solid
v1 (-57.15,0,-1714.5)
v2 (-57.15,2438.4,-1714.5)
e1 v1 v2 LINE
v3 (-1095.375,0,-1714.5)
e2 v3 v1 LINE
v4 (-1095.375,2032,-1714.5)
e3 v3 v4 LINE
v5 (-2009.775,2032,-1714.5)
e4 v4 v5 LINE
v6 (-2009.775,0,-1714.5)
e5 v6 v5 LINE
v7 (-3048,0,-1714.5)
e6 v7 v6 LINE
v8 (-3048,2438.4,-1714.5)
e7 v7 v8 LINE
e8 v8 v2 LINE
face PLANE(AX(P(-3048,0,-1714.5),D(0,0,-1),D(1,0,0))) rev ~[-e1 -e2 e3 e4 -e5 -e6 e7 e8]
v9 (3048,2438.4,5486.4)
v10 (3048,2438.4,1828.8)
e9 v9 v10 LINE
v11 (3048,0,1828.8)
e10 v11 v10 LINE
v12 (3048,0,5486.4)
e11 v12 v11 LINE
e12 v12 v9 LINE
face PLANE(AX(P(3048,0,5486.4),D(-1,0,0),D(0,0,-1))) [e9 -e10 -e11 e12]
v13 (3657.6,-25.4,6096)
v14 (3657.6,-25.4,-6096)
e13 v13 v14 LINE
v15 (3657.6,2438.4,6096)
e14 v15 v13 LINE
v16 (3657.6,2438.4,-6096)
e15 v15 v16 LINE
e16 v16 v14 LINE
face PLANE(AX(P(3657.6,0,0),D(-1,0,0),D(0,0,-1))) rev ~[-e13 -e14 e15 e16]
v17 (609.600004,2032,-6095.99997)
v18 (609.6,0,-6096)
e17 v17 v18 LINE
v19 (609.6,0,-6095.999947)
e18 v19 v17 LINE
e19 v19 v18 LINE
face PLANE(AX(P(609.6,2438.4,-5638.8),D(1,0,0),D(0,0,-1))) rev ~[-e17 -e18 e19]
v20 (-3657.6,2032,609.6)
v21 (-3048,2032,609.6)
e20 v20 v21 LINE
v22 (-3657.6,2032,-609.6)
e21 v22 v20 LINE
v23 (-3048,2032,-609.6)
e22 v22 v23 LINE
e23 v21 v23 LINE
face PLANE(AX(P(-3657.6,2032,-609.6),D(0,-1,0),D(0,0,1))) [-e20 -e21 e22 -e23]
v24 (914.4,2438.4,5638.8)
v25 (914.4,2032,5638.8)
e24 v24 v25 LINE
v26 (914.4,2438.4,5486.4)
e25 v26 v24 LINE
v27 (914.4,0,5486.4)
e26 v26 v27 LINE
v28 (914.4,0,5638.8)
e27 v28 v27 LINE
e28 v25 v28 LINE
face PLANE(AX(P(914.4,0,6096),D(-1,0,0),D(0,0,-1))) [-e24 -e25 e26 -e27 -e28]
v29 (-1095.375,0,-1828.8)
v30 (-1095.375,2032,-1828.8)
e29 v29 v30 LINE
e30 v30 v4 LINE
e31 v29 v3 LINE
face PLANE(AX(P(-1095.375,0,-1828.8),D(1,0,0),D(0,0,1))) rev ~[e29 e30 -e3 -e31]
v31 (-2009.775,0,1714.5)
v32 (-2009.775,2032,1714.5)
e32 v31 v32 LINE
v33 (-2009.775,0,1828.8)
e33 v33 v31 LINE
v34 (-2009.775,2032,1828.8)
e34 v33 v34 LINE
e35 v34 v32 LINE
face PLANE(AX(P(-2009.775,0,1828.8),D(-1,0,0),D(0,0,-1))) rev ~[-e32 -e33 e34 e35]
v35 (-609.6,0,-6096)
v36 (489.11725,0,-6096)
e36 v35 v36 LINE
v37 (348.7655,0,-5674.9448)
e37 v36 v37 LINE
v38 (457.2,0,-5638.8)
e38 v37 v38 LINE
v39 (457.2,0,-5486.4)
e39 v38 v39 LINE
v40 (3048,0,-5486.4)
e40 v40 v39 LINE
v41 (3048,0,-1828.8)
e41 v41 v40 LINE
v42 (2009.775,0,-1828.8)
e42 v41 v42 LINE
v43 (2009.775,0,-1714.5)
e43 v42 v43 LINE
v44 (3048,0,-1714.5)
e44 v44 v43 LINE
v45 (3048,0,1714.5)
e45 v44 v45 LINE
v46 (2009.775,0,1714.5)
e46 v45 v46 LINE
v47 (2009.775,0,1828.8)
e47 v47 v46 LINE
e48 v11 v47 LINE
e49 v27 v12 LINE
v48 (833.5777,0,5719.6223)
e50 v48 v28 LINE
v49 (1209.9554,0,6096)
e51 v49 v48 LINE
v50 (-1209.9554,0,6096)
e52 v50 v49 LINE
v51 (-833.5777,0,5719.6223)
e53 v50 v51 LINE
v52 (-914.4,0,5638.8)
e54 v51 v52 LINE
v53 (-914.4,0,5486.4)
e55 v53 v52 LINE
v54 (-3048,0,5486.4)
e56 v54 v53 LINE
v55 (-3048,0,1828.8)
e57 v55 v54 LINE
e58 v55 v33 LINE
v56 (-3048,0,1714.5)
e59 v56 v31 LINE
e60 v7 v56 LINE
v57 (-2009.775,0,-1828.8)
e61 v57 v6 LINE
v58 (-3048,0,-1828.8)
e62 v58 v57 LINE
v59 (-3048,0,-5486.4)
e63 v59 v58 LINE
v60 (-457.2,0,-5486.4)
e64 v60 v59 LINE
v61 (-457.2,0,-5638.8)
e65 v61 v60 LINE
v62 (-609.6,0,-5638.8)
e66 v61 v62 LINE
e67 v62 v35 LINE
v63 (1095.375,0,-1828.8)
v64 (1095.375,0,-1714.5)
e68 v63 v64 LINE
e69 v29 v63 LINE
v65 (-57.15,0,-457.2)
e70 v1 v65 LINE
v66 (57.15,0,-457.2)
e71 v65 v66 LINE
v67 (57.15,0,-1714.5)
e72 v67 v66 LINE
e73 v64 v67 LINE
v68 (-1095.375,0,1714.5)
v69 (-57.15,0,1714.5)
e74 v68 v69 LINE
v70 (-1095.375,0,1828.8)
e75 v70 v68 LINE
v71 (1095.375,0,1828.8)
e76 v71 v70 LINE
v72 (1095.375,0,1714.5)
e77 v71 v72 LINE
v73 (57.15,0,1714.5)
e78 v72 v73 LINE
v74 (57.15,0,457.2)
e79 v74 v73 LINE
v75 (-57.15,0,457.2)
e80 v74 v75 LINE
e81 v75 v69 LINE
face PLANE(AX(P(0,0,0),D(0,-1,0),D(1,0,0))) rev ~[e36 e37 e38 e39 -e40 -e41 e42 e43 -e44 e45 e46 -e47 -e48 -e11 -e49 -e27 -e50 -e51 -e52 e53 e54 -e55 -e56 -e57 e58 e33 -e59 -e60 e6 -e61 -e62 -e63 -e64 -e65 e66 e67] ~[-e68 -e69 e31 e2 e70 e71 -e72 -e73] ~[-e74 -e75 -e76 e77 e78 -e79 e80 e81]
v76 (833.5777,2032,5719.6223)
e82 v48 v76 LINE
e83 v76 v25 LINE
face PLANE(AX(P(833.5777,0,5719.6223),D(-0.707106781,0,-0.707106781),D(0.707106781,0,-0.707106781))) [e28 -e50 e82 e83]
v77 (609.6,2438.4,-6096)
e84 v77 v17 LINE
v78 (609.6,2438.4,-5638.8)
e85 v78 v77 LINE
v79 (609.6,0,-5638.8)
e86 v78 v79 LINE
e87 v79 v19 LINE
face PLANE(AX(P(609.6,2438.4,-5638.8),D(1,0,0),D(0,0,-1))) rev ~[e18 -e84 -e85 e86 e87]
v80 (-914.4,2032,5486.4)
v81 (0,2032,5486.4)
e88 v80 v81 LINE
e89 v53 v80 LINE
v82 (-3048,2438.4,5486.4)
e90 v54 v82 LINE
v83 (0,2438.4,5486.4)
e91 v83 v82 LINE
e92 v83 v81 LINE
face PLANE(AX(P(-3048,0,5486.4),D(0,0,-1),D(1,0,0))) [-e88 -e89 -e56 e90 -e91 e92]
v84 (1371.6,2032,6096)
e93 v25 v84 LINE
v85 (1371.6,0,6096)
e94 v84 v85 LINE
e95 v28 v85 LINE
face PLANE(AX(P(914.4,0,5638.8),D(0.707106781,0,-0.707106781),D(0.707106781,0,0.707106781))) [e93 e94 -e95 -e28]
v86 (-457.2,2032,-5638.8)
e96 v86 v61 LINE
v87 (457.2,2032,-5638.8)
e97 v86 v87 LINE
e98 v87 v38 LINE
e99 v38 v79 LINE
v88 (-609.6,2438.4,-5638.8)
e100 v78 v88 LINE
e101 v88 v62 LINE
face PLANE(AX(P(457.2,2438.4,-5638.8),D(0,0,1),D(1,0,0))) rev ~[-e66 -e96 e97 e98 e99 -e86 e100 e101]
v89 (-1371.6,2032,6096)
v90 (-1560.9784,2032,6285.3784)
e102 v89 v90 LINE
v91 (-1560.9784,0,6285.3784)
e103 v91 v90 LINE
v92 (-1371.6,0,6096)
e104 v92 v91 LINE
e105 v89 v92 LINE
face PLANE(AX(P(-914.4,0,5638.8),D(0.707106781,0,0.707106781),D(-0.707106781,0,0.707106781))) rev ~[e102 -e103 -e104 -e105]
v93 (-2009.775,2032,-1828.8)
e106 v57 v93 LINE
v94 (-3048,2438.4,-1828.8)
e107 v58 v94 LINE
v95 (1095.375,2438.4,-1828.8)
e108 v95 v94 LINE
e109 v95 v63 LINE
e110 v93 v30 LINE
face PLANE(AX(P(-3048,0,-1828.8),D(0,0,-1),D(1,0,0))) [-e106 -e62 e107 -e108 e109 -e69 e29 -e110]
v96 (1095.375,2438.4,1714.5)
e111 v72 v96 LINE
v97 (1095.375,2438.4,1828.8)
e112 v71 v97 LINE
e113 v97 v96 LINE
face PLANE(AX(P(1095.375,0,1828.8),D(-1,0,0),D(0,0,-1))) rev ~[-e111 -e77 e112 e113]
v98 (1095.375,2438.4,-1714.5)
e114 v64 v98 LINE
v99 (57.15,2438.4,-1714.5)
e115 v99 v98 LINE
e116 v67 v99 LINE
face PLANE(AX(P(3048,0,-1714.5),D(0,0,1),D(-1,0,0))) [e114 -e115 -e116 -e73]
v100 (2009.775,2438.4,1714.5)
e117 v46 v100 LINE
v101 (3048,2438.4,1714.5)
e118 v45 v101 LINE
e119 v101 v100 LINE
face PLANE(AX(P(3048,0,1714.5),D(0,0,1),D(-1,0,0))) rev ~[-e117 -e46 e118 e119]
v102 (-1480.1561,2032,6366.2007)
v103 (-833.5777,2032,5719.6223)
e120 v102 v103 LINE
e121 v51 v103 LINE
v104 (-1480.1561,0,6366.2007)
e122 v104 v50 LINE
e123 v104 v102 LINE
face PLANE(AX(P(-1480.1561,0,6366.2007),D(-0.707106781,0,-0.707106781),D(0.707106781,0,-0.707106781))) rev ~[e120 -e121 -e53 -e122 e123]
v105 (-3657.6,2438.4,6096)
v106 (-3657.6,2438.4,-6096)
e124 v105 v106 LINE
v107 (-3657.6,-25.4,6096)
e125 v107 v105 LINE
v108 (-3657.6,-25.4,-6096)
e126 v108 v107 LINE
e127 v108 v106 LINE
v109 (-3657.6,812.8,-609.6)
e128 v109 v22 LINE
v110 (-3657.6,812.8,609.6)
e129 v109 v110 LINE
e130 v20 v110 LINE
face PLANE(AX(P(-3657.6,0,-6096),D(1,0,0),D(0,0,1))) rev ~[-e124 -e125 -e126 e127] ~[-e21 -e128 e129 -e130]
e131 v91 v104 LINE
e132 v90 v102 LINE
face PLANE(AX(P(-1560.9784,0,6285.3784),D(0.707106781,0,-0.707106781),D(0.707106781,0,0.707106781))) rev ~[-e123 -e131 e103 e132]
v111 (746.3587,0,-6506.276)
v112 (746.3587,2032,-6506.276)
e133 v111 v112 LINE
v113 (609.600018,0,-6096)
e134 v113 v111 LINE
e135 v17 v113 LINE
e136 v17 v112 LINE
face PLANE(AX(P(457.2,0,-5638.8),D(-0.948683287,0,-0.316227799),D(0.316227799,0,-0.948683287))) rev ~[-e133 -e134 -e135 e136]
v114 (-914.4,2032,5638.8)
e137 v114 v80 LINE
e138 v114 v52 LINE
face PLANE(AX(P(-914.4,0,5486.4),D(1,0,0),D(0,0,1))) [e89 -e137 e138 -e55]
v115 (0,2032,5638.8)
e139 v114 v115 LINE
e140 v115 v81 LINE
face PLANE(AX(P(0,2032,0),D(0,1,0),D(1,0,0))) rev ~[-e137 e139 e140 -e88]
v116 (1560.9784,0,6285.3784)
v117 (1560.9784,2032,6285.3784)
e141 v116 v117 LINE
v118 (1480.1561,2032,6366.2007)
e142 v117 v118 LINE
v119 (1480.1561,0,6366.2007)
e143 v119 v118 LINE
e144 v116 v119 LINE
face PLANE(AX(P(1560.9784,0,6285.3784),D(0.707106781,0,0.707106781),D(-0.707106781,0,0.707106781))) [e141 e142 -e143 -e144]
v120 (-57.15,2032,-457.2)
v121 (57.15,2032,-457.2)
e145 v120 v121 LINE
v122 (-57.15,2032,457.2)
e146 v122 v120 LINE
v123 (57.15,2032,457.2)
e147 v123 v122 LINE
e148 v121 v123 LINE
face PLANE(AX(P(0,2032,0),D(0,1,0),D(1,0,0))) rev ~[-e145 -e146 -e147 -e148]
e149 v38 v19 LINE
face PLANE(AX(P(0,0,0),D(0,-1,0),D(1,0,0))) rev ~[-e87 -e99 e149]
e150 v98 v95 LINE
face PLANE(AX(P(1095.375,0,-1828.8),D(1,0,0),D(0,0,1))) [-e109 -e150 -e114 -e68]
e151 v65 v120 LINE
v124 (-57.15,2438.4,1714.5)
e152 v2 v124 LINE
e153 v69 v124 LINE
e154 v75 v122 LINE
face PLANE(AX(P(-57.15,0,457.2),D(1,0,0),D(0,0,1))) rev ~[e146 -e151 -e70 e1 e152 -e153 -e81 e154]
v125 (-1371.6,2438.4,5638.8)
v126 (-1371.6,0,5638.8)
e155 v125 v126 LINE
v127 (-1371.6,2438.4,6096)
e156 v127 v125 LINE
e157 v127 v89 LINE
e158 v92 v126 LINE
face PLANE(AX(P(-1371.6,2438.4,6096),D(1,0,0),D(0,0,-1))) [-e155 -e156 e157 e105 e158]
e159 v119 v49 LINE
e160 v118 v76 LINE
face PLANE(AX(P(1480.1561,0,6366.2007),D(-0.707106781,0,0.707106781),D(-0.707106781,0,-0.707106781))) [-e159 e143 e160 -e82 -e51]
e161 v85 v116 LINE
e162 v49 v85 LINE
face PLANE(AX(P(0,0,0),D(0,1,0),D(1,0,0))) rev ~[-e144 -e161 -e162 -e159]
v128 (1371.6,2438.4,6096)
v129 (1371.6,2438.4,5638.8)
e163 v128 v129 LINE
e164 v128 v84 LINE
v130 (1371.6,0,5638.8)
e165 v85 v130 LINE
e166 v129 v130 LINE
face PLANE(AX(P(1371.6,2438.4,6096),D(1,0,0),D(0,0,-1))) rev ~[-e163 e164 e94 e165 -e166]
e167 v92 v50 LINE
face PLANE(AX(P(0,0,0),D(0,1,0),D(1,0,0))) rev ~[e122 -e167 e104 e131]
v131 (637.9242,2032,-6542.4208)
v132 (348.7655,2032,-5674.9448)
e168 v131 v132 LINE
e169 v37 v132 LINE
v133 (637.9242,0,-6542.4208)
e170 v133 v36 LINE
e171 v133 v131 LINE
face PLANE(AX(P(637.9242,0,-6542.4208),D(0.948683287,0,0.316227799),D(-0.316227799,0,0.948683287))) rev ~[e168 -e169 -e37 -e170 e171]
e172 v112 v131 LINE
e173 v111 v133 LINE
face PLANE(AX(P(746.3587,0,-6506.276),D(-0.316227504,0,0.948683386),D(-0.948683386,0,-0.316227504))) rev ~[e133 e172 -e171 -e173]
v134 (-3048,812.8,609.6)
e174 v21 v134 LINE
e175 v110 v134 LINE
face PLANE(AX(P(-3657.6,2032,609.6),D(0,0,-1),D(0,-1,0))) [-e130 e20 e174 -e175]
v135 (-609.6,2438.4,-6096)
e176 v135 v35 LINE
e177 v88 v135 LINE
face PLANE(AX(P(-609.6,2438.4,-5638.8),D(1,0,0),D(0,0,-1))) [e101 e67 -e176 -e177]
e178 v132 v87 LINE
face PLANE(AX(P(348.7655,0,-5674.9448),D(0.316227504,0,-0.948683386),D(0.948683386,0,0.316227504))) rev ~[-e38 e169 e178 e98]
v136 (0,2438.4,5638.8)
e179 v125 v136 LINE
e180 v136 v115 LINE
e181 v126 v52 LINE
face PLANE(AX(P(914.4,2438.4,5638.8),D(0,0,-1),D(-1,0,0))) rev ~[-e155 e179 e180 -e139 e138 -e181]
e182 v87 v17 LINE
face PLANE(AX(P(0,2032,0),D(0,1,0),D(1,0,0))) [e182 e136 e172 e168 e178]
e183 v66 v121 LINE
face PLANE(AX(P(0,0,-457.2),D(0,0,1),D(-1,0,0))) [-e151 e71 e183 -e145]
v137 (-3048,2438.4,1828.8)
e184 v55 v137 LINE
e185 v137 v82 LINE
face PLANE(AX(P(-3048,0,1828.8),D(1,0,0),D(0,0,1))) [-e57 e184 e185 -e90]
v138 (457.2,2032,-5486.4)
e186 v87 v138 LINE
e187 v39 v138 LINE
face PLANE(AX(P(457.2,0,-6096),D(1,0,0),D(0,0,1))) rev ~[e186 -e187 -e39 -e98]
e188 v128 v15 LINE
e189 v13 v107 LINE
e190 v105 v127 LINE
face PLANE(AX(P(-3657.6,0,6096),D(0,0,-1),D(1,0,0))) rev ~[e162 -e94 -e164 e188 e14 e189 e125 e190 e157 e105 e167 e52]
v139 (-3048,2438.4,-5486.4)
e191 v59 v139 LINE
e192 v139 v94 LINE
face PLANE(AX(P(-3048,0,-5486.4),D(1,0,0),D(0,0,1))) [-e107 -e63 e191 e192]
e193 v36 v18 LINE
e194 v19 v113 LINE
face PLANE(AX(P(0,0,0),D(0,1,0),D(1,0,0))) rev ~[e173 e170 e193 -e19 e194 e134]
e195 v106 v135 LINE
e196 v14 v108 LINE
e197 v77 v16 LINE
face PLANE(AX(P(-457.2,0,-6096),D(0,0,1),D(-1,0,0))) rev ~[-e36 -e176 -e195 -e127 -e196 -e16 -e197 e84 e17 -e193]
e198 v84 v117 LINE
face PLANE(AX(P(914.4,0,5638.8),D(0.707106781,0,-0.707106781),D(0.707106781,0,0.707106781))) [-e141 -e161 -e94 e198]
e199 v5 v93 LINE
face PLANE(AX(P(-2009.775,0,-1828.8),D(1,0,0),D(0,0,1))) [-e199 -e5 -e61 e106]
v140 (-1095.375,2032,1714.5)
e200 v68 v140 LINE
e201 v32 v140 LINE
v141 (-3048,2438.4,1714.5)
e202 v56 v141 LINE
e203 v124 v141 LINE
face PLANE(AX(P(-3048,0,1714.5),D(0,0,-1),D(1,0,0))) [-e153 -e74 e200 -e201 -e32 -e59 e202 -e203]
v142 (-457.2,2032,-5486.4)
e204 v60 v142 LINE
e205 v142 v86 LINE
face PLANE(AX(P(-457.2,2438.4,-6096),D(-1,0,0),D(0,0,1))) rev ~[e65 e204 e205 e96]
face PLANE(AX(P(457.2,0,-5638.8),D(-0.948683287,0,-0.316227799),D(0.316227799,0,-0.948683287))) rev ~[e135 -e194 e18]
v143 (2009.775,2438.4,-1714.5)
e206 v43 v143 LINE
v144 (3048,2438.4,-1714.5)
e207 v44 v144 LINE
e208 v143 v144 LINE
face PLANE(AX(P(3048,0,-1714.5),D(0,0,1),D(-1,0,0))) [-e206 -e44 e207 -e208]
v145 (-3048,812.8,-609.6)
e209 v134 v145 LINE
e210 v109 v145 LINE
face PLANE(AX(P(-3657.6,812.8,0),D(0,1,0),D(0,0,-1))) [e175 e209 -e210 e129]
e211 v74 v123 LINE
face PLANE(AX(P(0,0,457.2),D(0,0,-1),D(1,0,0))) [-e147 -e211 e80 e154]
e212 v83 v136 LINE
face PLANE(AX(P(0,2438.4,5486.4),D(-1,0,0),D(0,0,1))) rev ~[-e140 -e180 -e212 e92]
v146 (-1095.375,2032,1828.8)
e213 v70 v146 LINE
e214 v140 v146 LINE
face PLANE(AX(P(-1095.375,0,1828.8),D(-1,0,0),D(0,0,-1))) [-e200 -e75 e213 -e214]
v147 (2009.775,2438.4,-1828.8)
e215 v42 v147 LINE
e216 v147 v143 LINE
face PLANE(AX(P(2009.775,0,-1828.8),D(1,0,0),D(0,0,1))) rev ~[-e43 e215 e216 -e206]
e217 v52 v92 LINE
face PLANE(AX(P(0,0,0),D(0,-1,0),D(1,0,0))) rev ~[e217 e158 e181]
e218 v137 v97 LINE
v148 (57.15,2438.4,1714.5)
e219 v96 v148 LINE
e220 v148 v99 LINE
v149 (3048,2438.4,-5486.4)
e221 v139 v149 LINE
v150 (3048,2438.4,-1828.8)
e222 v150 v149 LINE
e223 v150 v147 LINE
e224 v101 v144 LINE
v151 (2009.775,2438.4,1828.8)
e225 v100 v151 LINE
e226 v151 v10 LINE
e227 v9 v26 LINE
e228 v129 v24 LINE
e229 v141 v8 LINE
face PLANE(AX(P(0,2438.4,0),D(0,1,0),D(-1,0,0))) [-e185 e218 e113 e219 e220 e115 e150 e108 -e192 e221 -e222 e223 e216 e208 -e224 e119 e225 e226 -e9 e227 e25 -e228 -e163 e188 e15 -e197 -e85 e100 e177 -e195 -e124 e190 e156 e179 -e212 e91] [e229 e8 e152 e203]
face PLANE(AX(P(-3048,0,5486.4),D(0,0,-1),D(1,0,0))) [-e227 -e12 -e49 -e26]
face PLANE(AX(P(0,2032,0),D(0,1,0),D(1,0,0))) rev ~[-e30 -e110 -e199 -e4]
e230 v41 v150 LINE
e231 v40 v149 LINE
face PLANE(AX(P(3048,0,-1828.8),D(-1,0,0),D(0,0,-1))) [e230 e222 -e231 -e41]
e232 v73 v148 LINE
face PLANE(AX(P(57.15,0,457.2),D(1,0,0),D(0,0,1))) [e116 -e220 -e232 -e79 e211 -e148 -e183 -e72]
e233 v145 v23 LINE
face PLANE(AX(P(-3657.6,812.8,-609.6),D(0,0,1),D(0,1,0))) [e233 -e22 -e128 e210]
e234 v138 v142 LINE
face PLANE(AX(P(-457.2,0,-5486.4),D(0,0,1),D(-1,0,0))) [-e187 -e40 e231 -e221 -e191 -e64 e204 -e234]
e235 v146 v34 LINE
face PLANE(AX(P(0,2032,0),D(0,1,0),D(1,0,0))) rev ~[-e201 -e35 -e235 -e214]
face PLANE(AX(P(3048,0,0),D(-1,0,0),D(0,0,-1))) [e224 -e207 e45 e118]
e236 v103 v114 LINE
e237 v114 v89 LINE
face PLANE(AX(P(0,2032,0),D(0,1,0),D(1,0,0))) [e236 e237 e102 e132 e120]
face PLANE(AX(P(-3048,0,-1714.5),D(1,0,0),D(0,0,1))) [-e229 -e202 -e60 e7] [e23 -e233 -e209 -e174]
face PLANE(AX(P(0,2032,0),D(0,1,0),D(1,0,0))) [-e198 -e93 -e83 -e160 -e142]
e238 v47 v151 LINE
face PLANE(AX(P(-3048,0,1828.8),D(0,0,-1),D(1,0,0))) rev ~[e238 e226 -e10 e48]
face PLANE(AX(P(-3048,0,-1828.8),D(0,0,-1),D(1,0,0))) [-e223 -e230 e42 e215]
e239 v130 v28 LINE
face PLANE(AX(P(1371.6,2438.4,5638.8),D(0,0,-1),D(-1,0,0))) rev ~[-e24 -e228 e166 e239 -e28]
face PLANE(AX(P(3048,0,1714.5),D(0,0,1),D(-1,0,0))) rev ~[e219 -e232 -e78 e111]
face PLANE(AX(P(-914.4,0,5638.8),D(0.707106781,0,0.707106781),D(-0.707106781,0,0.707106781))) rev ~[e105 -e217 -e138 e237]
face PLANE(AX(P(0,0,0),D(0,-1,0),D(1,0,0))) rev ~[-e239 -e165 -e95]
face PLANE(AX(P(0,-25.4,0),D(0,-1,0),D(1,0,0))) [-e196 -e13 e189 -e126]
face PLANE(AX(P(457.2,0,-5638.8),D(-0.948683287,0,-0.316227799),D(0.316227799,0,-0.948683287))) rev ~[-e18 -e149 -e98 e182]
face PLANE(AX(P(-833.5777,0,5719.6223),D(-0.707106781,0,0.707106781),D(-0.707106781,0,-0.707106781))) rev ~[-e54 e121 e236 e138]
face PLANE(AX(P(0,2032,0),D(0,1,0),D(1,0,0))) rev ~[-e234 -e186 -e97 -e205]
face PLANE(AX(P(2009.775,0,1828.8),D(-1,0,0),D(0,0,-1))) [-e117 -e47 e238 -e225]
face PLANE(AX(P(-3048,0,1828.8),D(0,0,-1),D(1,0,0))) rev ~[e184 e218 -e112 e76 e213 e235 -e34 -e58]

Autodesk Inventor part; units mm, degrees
ref_plane "YZ Plane" through (0, 0, 0) normal (1, 0, 0) x (0, 1, 0)
ref_plane "XZ Plane" through (0, 0, 0) normal (0, 1, 0) x (-1, 0, 0)
ref_plane "XY Plane" through (0, 0, 0) normal (0, 0, 1) x (1, 0, 0)
sketch "Sketch1" plane through (0, 0, 0) normal (0, 1, 0) x (-1, 0, 0)
  line L0 (3657.6, -6096) -> (3657.6, 6096)
  line L1 (-3657.6, 6096) -> (-3657.6, -6096)
  line L2 (-5120.64, 0) -> (5120.64, 0) projected
  line L3 (0, -23842.3169) -> (0, 22994.4703) projected
  line L4 (-3048, 1714.5) -> (-3048, -1714.5)
  line L5 (3048, -5486.4) -> (3048, -1828.8)
  line L6 (3048, -1714.5) -> (3048, 1714.5)
  line L7 (3048, 1828.8) -> (3048, 5486.4)
  line L8 (-3048, -1828.8) -> (-3048, -5486.4)
  line L9 (-3048, 5486.4) -> (-3048, 1828.8)
  line L10 (-3048, 1714.5) -> (-3048, -1714.5)
  line L11 (-2009.775, -1828.8) -> (-2009.775, -1714.5)
  line L12 (-1095.375, -1828.8) -> (-1095.375, -1714.5)
  line L13 (-3048, -1714.5) -> (-2009.775, -1714.5)
  line L14 (-1095.375, -1714.5) -> (-57.15, -1714.5)
  line L15 (-3048, -1828.8) -> (-2009.775, -1828.8)
  line L16 (2009.775, -1828.8) -> (2009.775, -1714.5)
  line L17 (1095.375, -1828.8) -> (1095.375, -1714.5)
  line L18 (3048, -1714.5) -> (2009.775, -1714.5)
  line L19 (1095.375, -1714.5) -> (57.15, -1714.5)
  line L20 (3048, -1828.8) -> (2009.775, -1828.8)
  line L21 (1095.375, -1828.8) -> (-1095.375, -1828.8)
  line L22 (-2009.775, -1828.8) -> (-3048, -1828.8)
  line L23 (-1095.375, -1828.8) -> (1095.375, -1828.8)
  line L24 (2009.775, -1828.8) -> (3048, -1828.8)
  line L25 (57.15, -1714.5) -> (1095.375, -1714.5)
  line L26 (2009.775, -1714.5) -> (3048, -1714.5)
  line L27 (-2009.775, 1828.8) -> (-2009.775, 1714.5)
  line L28 (-1095.375, 1828.8) -> (-1095.375, 1714.5)
  line L29 (-3048, 1714.5) -> (-2009.775, 1714.5)
  line L30 (-1095.375, 1714.5) -> (-57.15, 1714.5)
  line L31 (-3048, 1828.8) -> (-2009.775, 1828.8)
  line L32 (3048, 1714.5) -> (2009.775, 1714.5)
  line L33 (3048, 1828.8) -> (2009.775, 1828.8)
  line L34 (2009.775, 1828.8) -> (2009.775, 1714.5)
  line L35 (1095.375, 1828.8) -> (1095.375, 1714.5)
  line L36 (1095.375, 1714.5) -> (57.15, 1714.5)
  line L37 (1095.375, 1828.8) -> (-1095.375, 1828.8)
  line L38 (-2009.775, 1828.8) -> (-3048, 1828.8)
  line L39 (-1095.375, 1828.8) -> (1095.375, 1828.8)
  line L40 (2009.775, 1828.8) -> (3048, 1828.8)
  line L41 (57.15, 1714.5) -> (1095.375, 1714.5)
  line L42 (2009.775, 1714.5) -> (3048, 1714.5)
  line L43 (-57.15, -457.2) -> (57.15, -457.2)
  line L44 (57.15, 457.2) -> (-57.15, 457.2)
  line L45 (-457.2, -6096) -> (-457.2, -5486.4)
  line L46 (457.2, -6096) -> (457.2, -5486.4)
  line L47 (-3048, -5486.4) -> (-457.2, -5486.4)
  line L48 (457.2, -5486.4) -> (3048, -5486.4)
  line L49 (-3657.6, -6096) -> (-457.2, -6096)
  line L50 (457.2, -6096) -> (3657.6, -6096)
  line L51 (914.4, 5486.4) -> (914.4, 6096)
  line L52 (-914.4, 6096) -> (-914.4, 5486.4)
  line L53 (3048, 5486.4) -> (914.4, 5486.4)
  line L54 (-914.4, 5486.4) -> (-3048, 5486.4)
  line L55 (3657.6, 6096) -> (914.4, 6096)
  line L56 (-914.4, 6096) -> (-3657.6, 6096)
  line L57 (-57.15, -1714.5) -> (-57.15, -457.2)
  line L58 (-57.15, 457.2) -> (-57.15, 1714.5)
  line L59 (-57.15, 1714.5) -> (-57.15, 457.2)
  line L60 (-57.15, -457.2) -> (-57.15, -1714.5)
  line L61 (57.15, -1714.5) -> (57.15, -457.2)
  line L62 (57.15, 457.2) -> (57.15, 1714.5)
  line L63 (57.15, 1714.5) -> (57.15, 457.2)
  line L64 (57.15, -457.2) -> (57.15, -1714.5)
  line L65 (-3048, 5486.4) -> (-3048, 1828.8)
  line L66 (-3048, 1828.8) -> (-2009.775, 1828.8)
  line L67 (-2009.775, 1828.8) -> (-2009.775, 1714.5)
  line L68 (-2009.775, 1714.5) -> (-3048, 1714.5)
  line L69 (-3048, 1714.5) -> (-3048, -1714.5)
  line L70 (-3048, -1714.5) -> (-2009.775, -1714.5)
  line L71 (-2009.775, -1714.5) -> (-2009.775, -1828.8)
  line L72 (-2009.775, -1828.8) -> (-3048, -1828.8)
  line L73 (-3048, -1828.8) -> (-3048, -5486.4)
  line L74 (-3048, -5486.4) -> (-457.2, -5486.4)
  line L75 (457.2, -5486.4) -> (3048, -5486.4)
  line L76 (3048, -5486.4) -> (3048, -1828.8)
  line L77 (3048, -1828.8) -> (2009.775, -1828.8)
  line L78 (2009.775, -1828.8) -> (2009.775, -1714.5)
  line L79 (2009.775, -1714.5) -> (3048, -1714.5)
  line L80 (3048, 1714.5) -> (3048, -1714.5)
  line L81 (3048, 1714.5) -> (2009.775, 1714.5)
  line L82 (2009.775, 1714.5) -> (2009.775, 1828.8)
  line L83 (2009.775, 1828.8) -> (3048, 1828.8)
  line L84 (3048, 1828.8) -> (3048, 5486.4)
  point P0 (0, 0)
  point P1 (0, 23842.3169)
  point P2 (0, -22994.4703)
  dimension "d2" = 7315.2
  dimension "d10" = 609.6
  dimension "d13" = 1038.225
  dimension "d14" = 914.4
  dimension "d17" = 114.3
  dimension "d18" = 1038.225
  dimension "d19" = 1038.225
  dimension "d20" = 914.4
  dimension "d21" = 914.4
  dimension "d23" = 609.6
  dimension "d24" = 4267.2
  dimension "d25" = 1828.8
  dimension "d26" = 12192
  dimension "d27" = 609.6
  dimension "d28" = 114.3
extrude "Extrusion1" add sketch "Sketch1" along normal blind 2438.4
sketch "Sketch2" plane through (-3657.6, 0, -6096) normal (-1, 0, 0) x (0, 0, 1)
  line L0 (0, 0) -> (12192, 0) projected
  line L1 (5486.4, 2032) -> (6705.6, 2032)
  line L2 (6705.6, 2032) -> (6705.6, 812.8)
  line L3 (6705.6, 812.8) -> (5486.4, 812.8)
  line L4 (5486.4, 812.8) -> (5486.4, 2032)
  line L5 (6096, 2926.08) -> (6096, -487.68) projected
  point P0 (6096, 0)
  dimension "d31" = 1219.2
  dimension "d33" = 1219.2
  dimension "d34" = 812.8
extrude "Extrusion2" cut sketch "Sketch2" against normal up to surface (609.6 mm away)
sketch "Sketch3" plane through (0, 2438.4, 0) normal (0, 1, 0) x (1, 0, 0)
  line L0 (57.15, 1714.5) -> (1095.375, 1714.5) projected
  line L1 (1095.375, 1714.5) -> (1095.375, 1828.8) projected
  line L2 (1095.375, 1828.8) -> (-1095.375, 1828.8) projected
  line L3 (-1095.375, 1828.8) -> (-1095.375, 1714.5) projected
  line L4 (-1095.375, 1714.5) -> (-57.15, 1714.5) projected
  line L5 (-57.15, 1714.5) -> (-57.15, 457.2) projected
  line L6 (-57.15, 457.2) -> (57.15, 457.2) projected
  line L7 (57.15, 457.2) -> (57.15, 1714.5) projected
  line L8 (-57.15, -1714.5) -> (-1095.375, -1714.5) projected
  line L9 (-1095.375, -1714.5) -> (-1095.375, -1828.8) projected
  line L10 (-1095.375, -1828.8) -> (1095.375, -1828.8) projected
  line L11 (1095.375, -1828.8) -> (1095.375, -1714.5) projected
  line L12 (1095.375, -1714.5) -> (57.15, -1714.5) projected
  line L13 (57.15, -1714.5) -> (57.15, -457.2) projected
  line L14 (57.15, -457.2) -> (-57.15, -457.2) projected
  line L15 (-57.15, -457.2) -> (-57.15, -1714.5) projected
  line L16 (3657.6, 6096) -> (457.2, 6096) projected
  line L17 (457.2, 6096) -> (457.2, 5486.4) projected
  line L18 (457.2, 5486.4) -> (3048, 5486.4) projected
  line L19 (3048, 5486.4) -> (3048, 1828.8) projected
  line L20 (3048, 1828.8) -> (2009.775, 1828.8) projected
  line L21 (2009.775, 1828.8) -> (2009.775, 1714.5) projected
  line L22 (2009.775, 1714.5) -> (3048, 1714.5) projected
  line L23 (3048, 1714.5) -> (3048, -1714.5) projected
  line L24 (3048, -1714.5) -> (2009.775, -1714.5) projected
  line L25 (2009.775, -1714.5) -> (2009.775, -1828.8) projected
  line L26 (2009.775, -1828.8) -> (3048, -1828.8) projected
  line L27 (3048, -1828.8) -> (3048, -5486.4) projected
  line L28 (3048, -5486.4) -> (914.4, -5486.4) projected
  line L29 (914.4, -5486.4) -> (914.4, -6096) projected
  line L30 (914.4, -6096) -> (3657.6, -6096) projected
  line L31 (3657.6, -6096) -> (3657.6, 6096) projected
  line L32 (-457.2, 6096) -> (457.2, 6096)
  line L33 (457.2, 6096) -> (457.2, 5486.4)
  line L34 (457.2, 5486.4) -> (-457.2, 5486.4)
  line L35 (-457.2, 5486.4) -> (-457.2, 6096)
  line L36 (-2009.775, 1828.8) -> (-1095.375, 1828.8)
  line L37 (-1095.375, 1828.8) -> (-1095.375, 1714.5)
  line L38 (-1095.375, 1714.5) -> (-2009.775, 1714.5)
  line L39 (-2009.775, 1714.5) -> (-2009.775, 1828.8)
  line L40 (1095.375, 1828.8) -> (2009.775, 1828.8)
  line L41 (2009.775, 1828.8) -> (2009.775, 1714.5)
  line L42 (2009.775, 1714.5) -> (1095.375, 1714.5)
  line L43 (1095.375, 1714.5) -> (1095.375, 1828.8)
  line L44 (-57.15, 457.2) -> (57.15, 457.2)
  line L45 (57.15, 457.2) -> (57.15, -457.2)
  line L46 (57.15, -457.2) -> (-57.15, -457.2)
  line L47 (-57.15, -457.2) -> (-57.15, 457.2)
  line L48 (1095.375, -1714.5) -> (2009.775, -1714.5)
  line L49 (2009.775, -1714.5) -> (2009.775, -1828.8)
  line L50 (2009.775, -1828.8) -> (1095.375, -1828.8)
  line L51 (1095.375, -1828.8) -> (1095.375, -1714.5)
  line L52 (-2009.775, -1714.5) -> (-1095.375, -1714.5)
  line L53 (-1095.375, -1714.5) -> (-1095.375, -1828.8)
  line L54 (-1095.375, -1828.8) -> (-2009.775, -1828.8)
  line L55 (-2009.775, -1828.8) -> (-2009.775, -1714.5)
  line L56 (-914.4, -5486.4) -> (914.4, -5486.4)
  line L57 (914.4, -5486.4) -> (914.4, -6096)
  line L58 (914.4, -6096) -> (-914.4, -6096)
  line L59 (-914.4, -6096) -> (-914.4, -5486.4)
  line L60 (1095.375, 1828.8) -> (2009.775, 1828.8)
  line L61 (2009.775, 1828.8) -> (2009.775, 1714.5)
  line L62 (2009.775, 1714.5) -> (1095.375, 1714.5)
  line L63 (1095.375, 1714.5) -> (1095.375, 1828.8)
  point P0 (0, 0)
extrude "Extrusion3" add sketch "Sketch3" against normal blind 406.4 contours L1 L40 L21 L42 | L45 L14 L47 L6 | L3 L38 L39 L36 | L48 L25 L50 L11 | L9 L54 L55 L52 | L34 L35 L32 L17 | L29 L58 L59 L56
sketch "Sketch5" plane through (0, 0, 0) normal (0, -1, 0) x (1, 0, 0)
  line L0 (3657.6, -6096) -> (457.2, -6096) projected
  line L1 (3657.6, 6096) -> (3657.6, -6096) projected
  line L2 (914.4, 6096) -> (3657.6, 6096) projected
  line L3 (914.4, 5486.4) -> (914.4, 6096) projected
  line L4 (3048, 5486.4) -> (914.4, 5486.4) projected
  line L5 (3048, 1828.8) -> (3048, 5486.4) projected
  line L6 (2009.775, 1828.8) -> (3048, 1828.8) projected
  line L7 (2009.775, 1714.5) -> (2009.775, 1828.8) projected
  line L8 (3048, 1714.5) -> (2009.775, 1714.5) projected
  line L9 (3048, -1714.5) -> (3048, 1714.5) projected
  line L10 (2009.775, -1714.5) -> (3048, -1714.5) projected
  line L11 (2009.775, -1828.8) -> (2009.775, -1714.5) projected
  line L12 (3048, -1828.8) -> (2009.775, -1828.8) projected
  line L13 (3048, -5486.4) -> (3048, -1828.8) projected
  line L14 (457.2, -5486.4) -> (3048, -5486.4) projected
  line L15 (457.2, -6096) -> (457.2, -5486.4) projected
  line L16 (-3657.6, 6096) -> (3657.6, 6096)
  line L17 (3657.6, 6096) -> (3657.6, -6096)
  line L18 (3657.6, -6096) -> (-3657.6, -6096)
  line L19 (-3657.6, -6096) -> (-3657.6, 6096)
  point P0 (0, 0)
extrude "Extrusion5" add sketch "Sketch5" along normal blind 25.4
sketch "Sketch6" plane through (0, 2438.4, 0) normal (0, 1, 0) x (1, 0, 0)
  line L0 (-3048, 5486.4) -> (3048, 5486.4) projected
  line L1 (3048, -5486.4) -> (-3048, -5486.4) projected
  line L2 (457.2, 5486.4) -> (457.2, 6096) projected
  line L3 (-457.2, 6096) -> (-457.2, 5486.4) projected
  line L4 (-914.4, -6096) -> (-914.4, -5486.4) projected
  line L5 (914.4, -6096) -> (-914.4, -6096) projected
  line L6 (914.4, -5486.4) -> (914.4, -6096) projected
  line L7 (3048, -5486.4) -> (914.4, -5486.4) projected
  line L8 (3048, -1828.8) -> (3048, -5486.4) projected
  line L9 (2009.775, -1828.8) -> (3048, -1828.8) projected
  line L10 (2009.775, -1714.5) -> (2009.775, -1828.8) projected
  line L11 (3048, -1714.5) -> (2009.775, -1714.5) projected
  line L12 (3048, 1714.5) -> (3048, -1714.5) projected
  line L13 (2009.775, 1714.5) -> (3048, 1714.5) projected
  line L14 (2009.775, 1828.8) -> (2009.775, 1714.5) projected
  line L15 (3048, 1828.8) -> (2009.775, 1828.8) projected
  line L16 (3048, 5486.4) -> (3048, 1828.8) projected
  line L17 (457.2, 5486.4) -> (3048, 5486.4) projected
  line L18 (457.2, 6096) -> (457.2, 5486.4) projected
  line L19 (-457.2, 6096) -> (457.2, 6096) projected
  line L20 (-457.2, 5486.4) -> (-457.2, 6096) projected
  line L21 (-3048, 5486.4) -> (-457.2, 5486.4) projected
  line L22 (-3048, 1828.8) -> (-3048, 5486.4) projected
  line L23 (-2009.775, 1828.8) -> (-3048, 1828.8) projected
  line L24 (-2009.775, 1714.5) -> (-2009.775, 1828.8) projected
  line L25 (-3048, 1714.5) -> (-2009.775, 1714.5) projected
  line L26 (-3048, -1714.5) -> (-3048, 1714.5) projected
  line L27 (-2009.775, -1714.5) -> (-3048, -1714.5) projected
  line L28 (-2009.775, -1828.8) -> (-2009.775, -1714.5) projected
  line L29 (-3048, -1828.8) -> (-2009.775, -1828.8) projected
  line L30 (-3048, -5486.4) -> (-3048, -1828.8) projected
  line L31 (-914.4, -5486.4) -> (-3048, -5486.4) projected
  line L32 (1095.375, -1714.5) -> (57.15, -1714.5) projected
  line L33 (1095.375, -1828.8) -> (1095.375, -1714.5) projected
  line L34 (-1095.375, -1828.8) -> (1095.375, -1828.8) projected
  line L35 (-1095.375, -1714.5) -> (-1095.375, -1828.8) projected
  line L36 (-57.15, -1714.5) -> (-1095.375, -1714.5) projected
  line L37 (-57.15, -457.2) -> (-57.15, -1714.5) projected
  line L38 (57.15, -457.2) -> (-57.15, -457.2) projected
  line L39 (57.15, -1714.5) -> (57.15, -457.2) projected
  line L40 (-57.15, 457.2) -> (57.15, 457.2) projected
  line L41 (-57.15, 1714.5) -> (-57.15, 457.2) projected
  line L42 (-1095.375, 1714.5) -> (-57.15, 1714.5) projected
  line L43 (-1095.375, 1828.8) -> (-1095.375, 1714.5) projected
  line L44 (1095.375, 1828.8) -> (-1095.375, 1828.8) projected
  line L45 (1095.375, 1714.5) -> (1095.375, 1828.8) projected
  line L46 (57.15, 1714.5) -> (1095.375, 1714.5) projected
  line L47 (57.15, 457.2) -> (57.15, 1714.5) projected
  line L48 (-457.2, 6096) -> (457.2, 6096)
  line L49 (457.2, 6096) -> (457.2, 5638.8)
  line L50 (457.2, 5638.8) -> (-457.2, 5638.8)
  line L51 (-457.2, 5638.8) -> (-457.2, 6096)
  line L52 (-914.4, -6096) -> (914.4, -6096)
  line L53 (914.4, -6096) -> (914.4, -5638.8)
  line L54 (914.4, -5638.8) -> (-914.4, -5638.8)
  line L55 (-914.4, -5638.8) -> (-914.4, -6096)
  point P0 (0, 0)
  dimension "d46" = 152.4
  dimension "d47" = 152.4
extrude "Extrusion6" cut sketch "Sketch6" against normal up to next contours L3 L19 L2 L50 | L54 L6 L5 L4
sketch "Sketch7" plane through (0, 2438.4, 0) normal (0, 1, 0) x (1, 0, 0)
  line L0 (-914.4, -5638.8) -> (914.4, -5638.8) projected
  line L1 (3048, -5486.4) -> (-3048, -5486.4) projected
  line L2 (0, -5638.8) -> (914.4, -5638.8)
  line L3 (914.4, -5638.8) -> (914.4, -5486.4)
  line L4 (914.4, -5486.4) -> (0, -5486.4)
  line L5 (0, -5486.4) -> (0, -5638.8)
  point P0 (0, 0)
extrude "Extrusion7" cut sketch "Sketch7" against normal up to next
sketch "Sketch8" plane through (0, 2438.4, 0) normal (0, 1, 0) x (1, 0, 0)
  line L0 (3657.6, 6096) -> (457.2, 6096) projected
  line L1 (-457.2, 5638.8) -> (-457.2, 6096) projected
  line L2 (-457.2, 6096) -> (-3657.6, 6096) projected
  line L3 (-914.4, -6096) -> (-914.4, -5638.8) projected
  line L4 (-914.4, -5638.8) -> (0, -5638.8) projected
  line L5 (-914.4, -6096) -> (-1371.6, -6096)
  line L6 (-1371.6, -6096) -> (-1371.6, -5638.8)
  line L7 (-1371.6, -5638.8) -> (-914.4, -5638.8)
  line L8 (-914.4, -5638.8) -> (-914.4, -6096)
  line L9 (914.4, -6096) -> (1371.6, -6096)
  line L10 (1371.6, -6096) -> (1371.6, -5638.8)
  line L11 (1371.6, -5638.8) -> (914.4, -5638.8)
  line L12 (914.4, -5638.8) -> (914.4, -6096)
  line L13 (457.2, 5638.8) -> (609.6, 5638.8)
  line L14 (609.6, 5638.8) -> (609.6, 6096)
  line L15 (609.6, 6096) -> (457.2, 6096)
  line L16 (457.2, 6096) -> (457.2, 5638.8)
  line L17 (-457.2, 5638.8) -> (-609.6, 5638.8)
  line L18 (-609.6, 5638.8) -> (-609.6, 6096)
  line L19 (-609.6, 6096) -> (-457.2, 6096)
  line L20 (-457.2, 6096) -> (-457.2, 5638.8)
  point P0 (0, 0)
  dimension "d52" = 457.2
  dimension "d53" = 457.2
  dimension "d54" = 152.4
  dimension "d55" = 152.4
extrude "Extrusion8" cut sketch "Sketch8" against normal up to surface (2438.4 mm away)
sketch "Sketch9" plane through (0, 2438.4, 0) normal (0, 1, 0) x (1, 0, 0)
  line L0 (1095.375, -1714.5) -> (57.15, -1714.5) projected
  line L1 (1095.375, -1828.8) -> (1095.375, -1714.5) projected
  line L2 (-1095.375, -1828.8) -> (1095.375, -1828.8) projected
  line L3 (-1095.375, -1714.5) -> (-1095.375, -1828.8) projected
  line L4 (-57.15, -1714.5) -> (-1095.375, -1714.5) projected
  line L5 (-57.15, -457.2) -> (-57.15, -1714.5) projected
  line L6 (57.15, -457.2) -> (-57.15, -457.2) projected
  line L7 (57.15, -1714.5) -> (57.15, -457.2) projected
  line L8 (-57.15, 457.2) -> (57.15, 457.2) projected
  line L9 (-57.15, 1714.5) -> (-57.15, 457.2) projected
  line L10 (-1095.375, 1714.5) -> (-57.15, 1714.5) projected
  line L11 (-1095.375, 1828.8) -> (-1095.375, 1714.5) projected
  line L12 (1095.375, 1828.8) -> (-1095.375, 1828.8) projected
  line L13 (1095.375, 1714.5) -> (1095.375, 1828.8) projected
  line L14 (57.15, 1714.5) -> (1095.375, 1714.5) projected
  line L15 (57.15, 457.2) -> (57.15, 1714.5) projected
  line L16 (914.4, -5486.4) -> (914.4, -5638.8) projected
  line L17 (3048, -5486.4) -> (914.4, -5486.4) projected
  line L18 (3048, -1828.8) -> (3048, -5486.4) projected
  line L19 (2009.775, -1828.8) -> (3048, -1828.8) projected
  line L20 (2009.775, -1714.5) -> (2009.775, -1828.8) projected
  line L21 (3048, -1714.5) -> (2009.775, -1714.5) projected
  line L22 (3048, 1714.5) -> (3048, -1714.5) projected
  line L23 (2009.775, 1714.5) -> (3048, 1714.5) projected
  line L24 (2009.775, 1828.8) -> (2009.775, 1714.5) projected
  line L25 (3048, 1828.8) -> (2009.775, 1828.8) projected
  line L26 (3048, 5486.4) -> (3048, 1828.8) projected
  line L27 (457.2, 5486.4) -> (3048, 5486.4) projected
  line L28 (457.2, 5638.8) -> (457.2, 5486.4) projected
  line L29 (609.6, 5638.8) -> (457.2, 5638.8) projected
  line L30 (609.6, 6096) -> (609.6, 5638.8) projected
  line L31 (-609.6, 6096) -> (609.6, 6096) projected
  line L32 (-609.6, 5638.8) -> (-609.6, 6096) projected
  line L33 (-457.2, 5638.8) -> (-609.6, 5638.8) projected
  line L34 (-457.2, 5486.4) -> (-457.2, 5638.8) projected
  line L35 (-3048, 5486.4) -> (-457.2, 5486.4) projected
  line L36 (-3048, 1828.8) -> (-3048, 5486.4) projected
  line L37 (-2009.775, 1828.8) -> (-3048, 1828.8) projected
  line L38 (-2009.775, 1714.5) -> (-2009.775, 1828.8) projected
  line L39 (-3048, 1714.5) -> (-2009.775, 1714.5) projected
  line L40 (-3048, -1714.5) -> (-3048, 1714.5) projected
  line L41 (-2009.775, -1714.5) -> (-3048, -1714.5) projected
  line L42 (-2009.775, -1828.8) -> (-2009.775, -1714.5) projected
  line L43 (-3048, -1828.8) -> (-2009.775, -1828.8) projected
  line L44 (-3048, -5486.4) -> (-3048, -1828.8) projected
  line L45 (-914.4, -5486.4) -> (-3048, -5486.4) projected
  line L46 (-914.4, -5638.8) -> (-914.4, -5486.4) projected
  line L47 (-1371.6, -5638.8) -> (-914.4, -5638.8) projected
  line L48 (-1371.6, -6096) -> (-1371.6, -5638.8) projected
  line L49 (1371.6, -6096) -> (-1371.6, -6096) projected
  line L50 (1371.6, -5638.8) -> (1371.6, -6096) projected
  line L51 (914.4, -5638.8) -> (1371.6, -5638.8) projected
  line L52 (1095.375, 1828.8) -> (2009.775, 1828.8)
  line L53 (2009.775, 1828.8) -> (2009.775, 1714.5)
  line L54 (2009.775, 1714.5) -> (1095.375, 1714.5)
  line L55 (1095.375, 1714.5) -> (1095.375, 1828.8)
  line L56 (1095.375, -1714.5) -> (2009.775, -1714.5)
  line L57 (2009.775, -1714.5) -> (2009.775, -1828.8)
  line L58 (2009.775, -1828.8) -> (1095.375, -1828.8)
  line L59 (1095.375, -1828.8) -> (1095.375, -1714.5)
  point P0 (0, 0)
extrude "Extrusion9" cut sketch "Sketch9" against normal up to next contours L56 L20 L58 L1 | L54 L13 L52 L24
sketch "Open Doors" plane through (0, 0, 0) normal (0, 1, 0) x (1, 0, 0)
  line L0 (457.2, 5638.8) -> (746.3587, 6506.276)
  line L1 (746.3587, 6506.276) -> (637.9242, 6542.4208)
  line L2 (637.9242, 6542.4208) -> (348.7655, 5674.9448)
  line L3 (348.7655, 5674.9448) -> (457.2, 5638.8)
  line L4 (914.4, -5638.8) -> (1560.9784, -6285.3784)
  line L5 (1560.9784, -6285.3784) -> (1480.1561, -6366.2007)
  line L6 (1480.1561, -6366.2007) -> (833.5777, -5719.6223)
  line L7 (833.5777, -5719.6223) -> (914.4, -5638.8)
  line L8 (-914.4, -5638.8) -> (-1560.9784, -6285.3784)
  line L9 (-1560.9784, -6285.3784) -> (-1480.1561, -6366.2007)
  line L10 (-1480.1561, -6366.2007) -> (-833.5777, -5719.6223)
  line L11 (-833.5777, -5719.6223) -> (-914.4, -5638.8)
  point P0 (609.6, 6096)
  point P1 (-1371.6, -6096)
  point P2 (1371.6, -6096)
  point P3 (0, 0)
  dimension "d60" = 914.4
  dimension "d62" = 114.3
  dimension "d63" = 914.4
  dimension "d64" = 114.3
  dimension "d65" = 914.4
  dimension "d66" = 114.3
extrude "Extrusion10" add sketch "Open Doors" along normal blind 2032
properties part number "East_Structure_Hose_Test"
